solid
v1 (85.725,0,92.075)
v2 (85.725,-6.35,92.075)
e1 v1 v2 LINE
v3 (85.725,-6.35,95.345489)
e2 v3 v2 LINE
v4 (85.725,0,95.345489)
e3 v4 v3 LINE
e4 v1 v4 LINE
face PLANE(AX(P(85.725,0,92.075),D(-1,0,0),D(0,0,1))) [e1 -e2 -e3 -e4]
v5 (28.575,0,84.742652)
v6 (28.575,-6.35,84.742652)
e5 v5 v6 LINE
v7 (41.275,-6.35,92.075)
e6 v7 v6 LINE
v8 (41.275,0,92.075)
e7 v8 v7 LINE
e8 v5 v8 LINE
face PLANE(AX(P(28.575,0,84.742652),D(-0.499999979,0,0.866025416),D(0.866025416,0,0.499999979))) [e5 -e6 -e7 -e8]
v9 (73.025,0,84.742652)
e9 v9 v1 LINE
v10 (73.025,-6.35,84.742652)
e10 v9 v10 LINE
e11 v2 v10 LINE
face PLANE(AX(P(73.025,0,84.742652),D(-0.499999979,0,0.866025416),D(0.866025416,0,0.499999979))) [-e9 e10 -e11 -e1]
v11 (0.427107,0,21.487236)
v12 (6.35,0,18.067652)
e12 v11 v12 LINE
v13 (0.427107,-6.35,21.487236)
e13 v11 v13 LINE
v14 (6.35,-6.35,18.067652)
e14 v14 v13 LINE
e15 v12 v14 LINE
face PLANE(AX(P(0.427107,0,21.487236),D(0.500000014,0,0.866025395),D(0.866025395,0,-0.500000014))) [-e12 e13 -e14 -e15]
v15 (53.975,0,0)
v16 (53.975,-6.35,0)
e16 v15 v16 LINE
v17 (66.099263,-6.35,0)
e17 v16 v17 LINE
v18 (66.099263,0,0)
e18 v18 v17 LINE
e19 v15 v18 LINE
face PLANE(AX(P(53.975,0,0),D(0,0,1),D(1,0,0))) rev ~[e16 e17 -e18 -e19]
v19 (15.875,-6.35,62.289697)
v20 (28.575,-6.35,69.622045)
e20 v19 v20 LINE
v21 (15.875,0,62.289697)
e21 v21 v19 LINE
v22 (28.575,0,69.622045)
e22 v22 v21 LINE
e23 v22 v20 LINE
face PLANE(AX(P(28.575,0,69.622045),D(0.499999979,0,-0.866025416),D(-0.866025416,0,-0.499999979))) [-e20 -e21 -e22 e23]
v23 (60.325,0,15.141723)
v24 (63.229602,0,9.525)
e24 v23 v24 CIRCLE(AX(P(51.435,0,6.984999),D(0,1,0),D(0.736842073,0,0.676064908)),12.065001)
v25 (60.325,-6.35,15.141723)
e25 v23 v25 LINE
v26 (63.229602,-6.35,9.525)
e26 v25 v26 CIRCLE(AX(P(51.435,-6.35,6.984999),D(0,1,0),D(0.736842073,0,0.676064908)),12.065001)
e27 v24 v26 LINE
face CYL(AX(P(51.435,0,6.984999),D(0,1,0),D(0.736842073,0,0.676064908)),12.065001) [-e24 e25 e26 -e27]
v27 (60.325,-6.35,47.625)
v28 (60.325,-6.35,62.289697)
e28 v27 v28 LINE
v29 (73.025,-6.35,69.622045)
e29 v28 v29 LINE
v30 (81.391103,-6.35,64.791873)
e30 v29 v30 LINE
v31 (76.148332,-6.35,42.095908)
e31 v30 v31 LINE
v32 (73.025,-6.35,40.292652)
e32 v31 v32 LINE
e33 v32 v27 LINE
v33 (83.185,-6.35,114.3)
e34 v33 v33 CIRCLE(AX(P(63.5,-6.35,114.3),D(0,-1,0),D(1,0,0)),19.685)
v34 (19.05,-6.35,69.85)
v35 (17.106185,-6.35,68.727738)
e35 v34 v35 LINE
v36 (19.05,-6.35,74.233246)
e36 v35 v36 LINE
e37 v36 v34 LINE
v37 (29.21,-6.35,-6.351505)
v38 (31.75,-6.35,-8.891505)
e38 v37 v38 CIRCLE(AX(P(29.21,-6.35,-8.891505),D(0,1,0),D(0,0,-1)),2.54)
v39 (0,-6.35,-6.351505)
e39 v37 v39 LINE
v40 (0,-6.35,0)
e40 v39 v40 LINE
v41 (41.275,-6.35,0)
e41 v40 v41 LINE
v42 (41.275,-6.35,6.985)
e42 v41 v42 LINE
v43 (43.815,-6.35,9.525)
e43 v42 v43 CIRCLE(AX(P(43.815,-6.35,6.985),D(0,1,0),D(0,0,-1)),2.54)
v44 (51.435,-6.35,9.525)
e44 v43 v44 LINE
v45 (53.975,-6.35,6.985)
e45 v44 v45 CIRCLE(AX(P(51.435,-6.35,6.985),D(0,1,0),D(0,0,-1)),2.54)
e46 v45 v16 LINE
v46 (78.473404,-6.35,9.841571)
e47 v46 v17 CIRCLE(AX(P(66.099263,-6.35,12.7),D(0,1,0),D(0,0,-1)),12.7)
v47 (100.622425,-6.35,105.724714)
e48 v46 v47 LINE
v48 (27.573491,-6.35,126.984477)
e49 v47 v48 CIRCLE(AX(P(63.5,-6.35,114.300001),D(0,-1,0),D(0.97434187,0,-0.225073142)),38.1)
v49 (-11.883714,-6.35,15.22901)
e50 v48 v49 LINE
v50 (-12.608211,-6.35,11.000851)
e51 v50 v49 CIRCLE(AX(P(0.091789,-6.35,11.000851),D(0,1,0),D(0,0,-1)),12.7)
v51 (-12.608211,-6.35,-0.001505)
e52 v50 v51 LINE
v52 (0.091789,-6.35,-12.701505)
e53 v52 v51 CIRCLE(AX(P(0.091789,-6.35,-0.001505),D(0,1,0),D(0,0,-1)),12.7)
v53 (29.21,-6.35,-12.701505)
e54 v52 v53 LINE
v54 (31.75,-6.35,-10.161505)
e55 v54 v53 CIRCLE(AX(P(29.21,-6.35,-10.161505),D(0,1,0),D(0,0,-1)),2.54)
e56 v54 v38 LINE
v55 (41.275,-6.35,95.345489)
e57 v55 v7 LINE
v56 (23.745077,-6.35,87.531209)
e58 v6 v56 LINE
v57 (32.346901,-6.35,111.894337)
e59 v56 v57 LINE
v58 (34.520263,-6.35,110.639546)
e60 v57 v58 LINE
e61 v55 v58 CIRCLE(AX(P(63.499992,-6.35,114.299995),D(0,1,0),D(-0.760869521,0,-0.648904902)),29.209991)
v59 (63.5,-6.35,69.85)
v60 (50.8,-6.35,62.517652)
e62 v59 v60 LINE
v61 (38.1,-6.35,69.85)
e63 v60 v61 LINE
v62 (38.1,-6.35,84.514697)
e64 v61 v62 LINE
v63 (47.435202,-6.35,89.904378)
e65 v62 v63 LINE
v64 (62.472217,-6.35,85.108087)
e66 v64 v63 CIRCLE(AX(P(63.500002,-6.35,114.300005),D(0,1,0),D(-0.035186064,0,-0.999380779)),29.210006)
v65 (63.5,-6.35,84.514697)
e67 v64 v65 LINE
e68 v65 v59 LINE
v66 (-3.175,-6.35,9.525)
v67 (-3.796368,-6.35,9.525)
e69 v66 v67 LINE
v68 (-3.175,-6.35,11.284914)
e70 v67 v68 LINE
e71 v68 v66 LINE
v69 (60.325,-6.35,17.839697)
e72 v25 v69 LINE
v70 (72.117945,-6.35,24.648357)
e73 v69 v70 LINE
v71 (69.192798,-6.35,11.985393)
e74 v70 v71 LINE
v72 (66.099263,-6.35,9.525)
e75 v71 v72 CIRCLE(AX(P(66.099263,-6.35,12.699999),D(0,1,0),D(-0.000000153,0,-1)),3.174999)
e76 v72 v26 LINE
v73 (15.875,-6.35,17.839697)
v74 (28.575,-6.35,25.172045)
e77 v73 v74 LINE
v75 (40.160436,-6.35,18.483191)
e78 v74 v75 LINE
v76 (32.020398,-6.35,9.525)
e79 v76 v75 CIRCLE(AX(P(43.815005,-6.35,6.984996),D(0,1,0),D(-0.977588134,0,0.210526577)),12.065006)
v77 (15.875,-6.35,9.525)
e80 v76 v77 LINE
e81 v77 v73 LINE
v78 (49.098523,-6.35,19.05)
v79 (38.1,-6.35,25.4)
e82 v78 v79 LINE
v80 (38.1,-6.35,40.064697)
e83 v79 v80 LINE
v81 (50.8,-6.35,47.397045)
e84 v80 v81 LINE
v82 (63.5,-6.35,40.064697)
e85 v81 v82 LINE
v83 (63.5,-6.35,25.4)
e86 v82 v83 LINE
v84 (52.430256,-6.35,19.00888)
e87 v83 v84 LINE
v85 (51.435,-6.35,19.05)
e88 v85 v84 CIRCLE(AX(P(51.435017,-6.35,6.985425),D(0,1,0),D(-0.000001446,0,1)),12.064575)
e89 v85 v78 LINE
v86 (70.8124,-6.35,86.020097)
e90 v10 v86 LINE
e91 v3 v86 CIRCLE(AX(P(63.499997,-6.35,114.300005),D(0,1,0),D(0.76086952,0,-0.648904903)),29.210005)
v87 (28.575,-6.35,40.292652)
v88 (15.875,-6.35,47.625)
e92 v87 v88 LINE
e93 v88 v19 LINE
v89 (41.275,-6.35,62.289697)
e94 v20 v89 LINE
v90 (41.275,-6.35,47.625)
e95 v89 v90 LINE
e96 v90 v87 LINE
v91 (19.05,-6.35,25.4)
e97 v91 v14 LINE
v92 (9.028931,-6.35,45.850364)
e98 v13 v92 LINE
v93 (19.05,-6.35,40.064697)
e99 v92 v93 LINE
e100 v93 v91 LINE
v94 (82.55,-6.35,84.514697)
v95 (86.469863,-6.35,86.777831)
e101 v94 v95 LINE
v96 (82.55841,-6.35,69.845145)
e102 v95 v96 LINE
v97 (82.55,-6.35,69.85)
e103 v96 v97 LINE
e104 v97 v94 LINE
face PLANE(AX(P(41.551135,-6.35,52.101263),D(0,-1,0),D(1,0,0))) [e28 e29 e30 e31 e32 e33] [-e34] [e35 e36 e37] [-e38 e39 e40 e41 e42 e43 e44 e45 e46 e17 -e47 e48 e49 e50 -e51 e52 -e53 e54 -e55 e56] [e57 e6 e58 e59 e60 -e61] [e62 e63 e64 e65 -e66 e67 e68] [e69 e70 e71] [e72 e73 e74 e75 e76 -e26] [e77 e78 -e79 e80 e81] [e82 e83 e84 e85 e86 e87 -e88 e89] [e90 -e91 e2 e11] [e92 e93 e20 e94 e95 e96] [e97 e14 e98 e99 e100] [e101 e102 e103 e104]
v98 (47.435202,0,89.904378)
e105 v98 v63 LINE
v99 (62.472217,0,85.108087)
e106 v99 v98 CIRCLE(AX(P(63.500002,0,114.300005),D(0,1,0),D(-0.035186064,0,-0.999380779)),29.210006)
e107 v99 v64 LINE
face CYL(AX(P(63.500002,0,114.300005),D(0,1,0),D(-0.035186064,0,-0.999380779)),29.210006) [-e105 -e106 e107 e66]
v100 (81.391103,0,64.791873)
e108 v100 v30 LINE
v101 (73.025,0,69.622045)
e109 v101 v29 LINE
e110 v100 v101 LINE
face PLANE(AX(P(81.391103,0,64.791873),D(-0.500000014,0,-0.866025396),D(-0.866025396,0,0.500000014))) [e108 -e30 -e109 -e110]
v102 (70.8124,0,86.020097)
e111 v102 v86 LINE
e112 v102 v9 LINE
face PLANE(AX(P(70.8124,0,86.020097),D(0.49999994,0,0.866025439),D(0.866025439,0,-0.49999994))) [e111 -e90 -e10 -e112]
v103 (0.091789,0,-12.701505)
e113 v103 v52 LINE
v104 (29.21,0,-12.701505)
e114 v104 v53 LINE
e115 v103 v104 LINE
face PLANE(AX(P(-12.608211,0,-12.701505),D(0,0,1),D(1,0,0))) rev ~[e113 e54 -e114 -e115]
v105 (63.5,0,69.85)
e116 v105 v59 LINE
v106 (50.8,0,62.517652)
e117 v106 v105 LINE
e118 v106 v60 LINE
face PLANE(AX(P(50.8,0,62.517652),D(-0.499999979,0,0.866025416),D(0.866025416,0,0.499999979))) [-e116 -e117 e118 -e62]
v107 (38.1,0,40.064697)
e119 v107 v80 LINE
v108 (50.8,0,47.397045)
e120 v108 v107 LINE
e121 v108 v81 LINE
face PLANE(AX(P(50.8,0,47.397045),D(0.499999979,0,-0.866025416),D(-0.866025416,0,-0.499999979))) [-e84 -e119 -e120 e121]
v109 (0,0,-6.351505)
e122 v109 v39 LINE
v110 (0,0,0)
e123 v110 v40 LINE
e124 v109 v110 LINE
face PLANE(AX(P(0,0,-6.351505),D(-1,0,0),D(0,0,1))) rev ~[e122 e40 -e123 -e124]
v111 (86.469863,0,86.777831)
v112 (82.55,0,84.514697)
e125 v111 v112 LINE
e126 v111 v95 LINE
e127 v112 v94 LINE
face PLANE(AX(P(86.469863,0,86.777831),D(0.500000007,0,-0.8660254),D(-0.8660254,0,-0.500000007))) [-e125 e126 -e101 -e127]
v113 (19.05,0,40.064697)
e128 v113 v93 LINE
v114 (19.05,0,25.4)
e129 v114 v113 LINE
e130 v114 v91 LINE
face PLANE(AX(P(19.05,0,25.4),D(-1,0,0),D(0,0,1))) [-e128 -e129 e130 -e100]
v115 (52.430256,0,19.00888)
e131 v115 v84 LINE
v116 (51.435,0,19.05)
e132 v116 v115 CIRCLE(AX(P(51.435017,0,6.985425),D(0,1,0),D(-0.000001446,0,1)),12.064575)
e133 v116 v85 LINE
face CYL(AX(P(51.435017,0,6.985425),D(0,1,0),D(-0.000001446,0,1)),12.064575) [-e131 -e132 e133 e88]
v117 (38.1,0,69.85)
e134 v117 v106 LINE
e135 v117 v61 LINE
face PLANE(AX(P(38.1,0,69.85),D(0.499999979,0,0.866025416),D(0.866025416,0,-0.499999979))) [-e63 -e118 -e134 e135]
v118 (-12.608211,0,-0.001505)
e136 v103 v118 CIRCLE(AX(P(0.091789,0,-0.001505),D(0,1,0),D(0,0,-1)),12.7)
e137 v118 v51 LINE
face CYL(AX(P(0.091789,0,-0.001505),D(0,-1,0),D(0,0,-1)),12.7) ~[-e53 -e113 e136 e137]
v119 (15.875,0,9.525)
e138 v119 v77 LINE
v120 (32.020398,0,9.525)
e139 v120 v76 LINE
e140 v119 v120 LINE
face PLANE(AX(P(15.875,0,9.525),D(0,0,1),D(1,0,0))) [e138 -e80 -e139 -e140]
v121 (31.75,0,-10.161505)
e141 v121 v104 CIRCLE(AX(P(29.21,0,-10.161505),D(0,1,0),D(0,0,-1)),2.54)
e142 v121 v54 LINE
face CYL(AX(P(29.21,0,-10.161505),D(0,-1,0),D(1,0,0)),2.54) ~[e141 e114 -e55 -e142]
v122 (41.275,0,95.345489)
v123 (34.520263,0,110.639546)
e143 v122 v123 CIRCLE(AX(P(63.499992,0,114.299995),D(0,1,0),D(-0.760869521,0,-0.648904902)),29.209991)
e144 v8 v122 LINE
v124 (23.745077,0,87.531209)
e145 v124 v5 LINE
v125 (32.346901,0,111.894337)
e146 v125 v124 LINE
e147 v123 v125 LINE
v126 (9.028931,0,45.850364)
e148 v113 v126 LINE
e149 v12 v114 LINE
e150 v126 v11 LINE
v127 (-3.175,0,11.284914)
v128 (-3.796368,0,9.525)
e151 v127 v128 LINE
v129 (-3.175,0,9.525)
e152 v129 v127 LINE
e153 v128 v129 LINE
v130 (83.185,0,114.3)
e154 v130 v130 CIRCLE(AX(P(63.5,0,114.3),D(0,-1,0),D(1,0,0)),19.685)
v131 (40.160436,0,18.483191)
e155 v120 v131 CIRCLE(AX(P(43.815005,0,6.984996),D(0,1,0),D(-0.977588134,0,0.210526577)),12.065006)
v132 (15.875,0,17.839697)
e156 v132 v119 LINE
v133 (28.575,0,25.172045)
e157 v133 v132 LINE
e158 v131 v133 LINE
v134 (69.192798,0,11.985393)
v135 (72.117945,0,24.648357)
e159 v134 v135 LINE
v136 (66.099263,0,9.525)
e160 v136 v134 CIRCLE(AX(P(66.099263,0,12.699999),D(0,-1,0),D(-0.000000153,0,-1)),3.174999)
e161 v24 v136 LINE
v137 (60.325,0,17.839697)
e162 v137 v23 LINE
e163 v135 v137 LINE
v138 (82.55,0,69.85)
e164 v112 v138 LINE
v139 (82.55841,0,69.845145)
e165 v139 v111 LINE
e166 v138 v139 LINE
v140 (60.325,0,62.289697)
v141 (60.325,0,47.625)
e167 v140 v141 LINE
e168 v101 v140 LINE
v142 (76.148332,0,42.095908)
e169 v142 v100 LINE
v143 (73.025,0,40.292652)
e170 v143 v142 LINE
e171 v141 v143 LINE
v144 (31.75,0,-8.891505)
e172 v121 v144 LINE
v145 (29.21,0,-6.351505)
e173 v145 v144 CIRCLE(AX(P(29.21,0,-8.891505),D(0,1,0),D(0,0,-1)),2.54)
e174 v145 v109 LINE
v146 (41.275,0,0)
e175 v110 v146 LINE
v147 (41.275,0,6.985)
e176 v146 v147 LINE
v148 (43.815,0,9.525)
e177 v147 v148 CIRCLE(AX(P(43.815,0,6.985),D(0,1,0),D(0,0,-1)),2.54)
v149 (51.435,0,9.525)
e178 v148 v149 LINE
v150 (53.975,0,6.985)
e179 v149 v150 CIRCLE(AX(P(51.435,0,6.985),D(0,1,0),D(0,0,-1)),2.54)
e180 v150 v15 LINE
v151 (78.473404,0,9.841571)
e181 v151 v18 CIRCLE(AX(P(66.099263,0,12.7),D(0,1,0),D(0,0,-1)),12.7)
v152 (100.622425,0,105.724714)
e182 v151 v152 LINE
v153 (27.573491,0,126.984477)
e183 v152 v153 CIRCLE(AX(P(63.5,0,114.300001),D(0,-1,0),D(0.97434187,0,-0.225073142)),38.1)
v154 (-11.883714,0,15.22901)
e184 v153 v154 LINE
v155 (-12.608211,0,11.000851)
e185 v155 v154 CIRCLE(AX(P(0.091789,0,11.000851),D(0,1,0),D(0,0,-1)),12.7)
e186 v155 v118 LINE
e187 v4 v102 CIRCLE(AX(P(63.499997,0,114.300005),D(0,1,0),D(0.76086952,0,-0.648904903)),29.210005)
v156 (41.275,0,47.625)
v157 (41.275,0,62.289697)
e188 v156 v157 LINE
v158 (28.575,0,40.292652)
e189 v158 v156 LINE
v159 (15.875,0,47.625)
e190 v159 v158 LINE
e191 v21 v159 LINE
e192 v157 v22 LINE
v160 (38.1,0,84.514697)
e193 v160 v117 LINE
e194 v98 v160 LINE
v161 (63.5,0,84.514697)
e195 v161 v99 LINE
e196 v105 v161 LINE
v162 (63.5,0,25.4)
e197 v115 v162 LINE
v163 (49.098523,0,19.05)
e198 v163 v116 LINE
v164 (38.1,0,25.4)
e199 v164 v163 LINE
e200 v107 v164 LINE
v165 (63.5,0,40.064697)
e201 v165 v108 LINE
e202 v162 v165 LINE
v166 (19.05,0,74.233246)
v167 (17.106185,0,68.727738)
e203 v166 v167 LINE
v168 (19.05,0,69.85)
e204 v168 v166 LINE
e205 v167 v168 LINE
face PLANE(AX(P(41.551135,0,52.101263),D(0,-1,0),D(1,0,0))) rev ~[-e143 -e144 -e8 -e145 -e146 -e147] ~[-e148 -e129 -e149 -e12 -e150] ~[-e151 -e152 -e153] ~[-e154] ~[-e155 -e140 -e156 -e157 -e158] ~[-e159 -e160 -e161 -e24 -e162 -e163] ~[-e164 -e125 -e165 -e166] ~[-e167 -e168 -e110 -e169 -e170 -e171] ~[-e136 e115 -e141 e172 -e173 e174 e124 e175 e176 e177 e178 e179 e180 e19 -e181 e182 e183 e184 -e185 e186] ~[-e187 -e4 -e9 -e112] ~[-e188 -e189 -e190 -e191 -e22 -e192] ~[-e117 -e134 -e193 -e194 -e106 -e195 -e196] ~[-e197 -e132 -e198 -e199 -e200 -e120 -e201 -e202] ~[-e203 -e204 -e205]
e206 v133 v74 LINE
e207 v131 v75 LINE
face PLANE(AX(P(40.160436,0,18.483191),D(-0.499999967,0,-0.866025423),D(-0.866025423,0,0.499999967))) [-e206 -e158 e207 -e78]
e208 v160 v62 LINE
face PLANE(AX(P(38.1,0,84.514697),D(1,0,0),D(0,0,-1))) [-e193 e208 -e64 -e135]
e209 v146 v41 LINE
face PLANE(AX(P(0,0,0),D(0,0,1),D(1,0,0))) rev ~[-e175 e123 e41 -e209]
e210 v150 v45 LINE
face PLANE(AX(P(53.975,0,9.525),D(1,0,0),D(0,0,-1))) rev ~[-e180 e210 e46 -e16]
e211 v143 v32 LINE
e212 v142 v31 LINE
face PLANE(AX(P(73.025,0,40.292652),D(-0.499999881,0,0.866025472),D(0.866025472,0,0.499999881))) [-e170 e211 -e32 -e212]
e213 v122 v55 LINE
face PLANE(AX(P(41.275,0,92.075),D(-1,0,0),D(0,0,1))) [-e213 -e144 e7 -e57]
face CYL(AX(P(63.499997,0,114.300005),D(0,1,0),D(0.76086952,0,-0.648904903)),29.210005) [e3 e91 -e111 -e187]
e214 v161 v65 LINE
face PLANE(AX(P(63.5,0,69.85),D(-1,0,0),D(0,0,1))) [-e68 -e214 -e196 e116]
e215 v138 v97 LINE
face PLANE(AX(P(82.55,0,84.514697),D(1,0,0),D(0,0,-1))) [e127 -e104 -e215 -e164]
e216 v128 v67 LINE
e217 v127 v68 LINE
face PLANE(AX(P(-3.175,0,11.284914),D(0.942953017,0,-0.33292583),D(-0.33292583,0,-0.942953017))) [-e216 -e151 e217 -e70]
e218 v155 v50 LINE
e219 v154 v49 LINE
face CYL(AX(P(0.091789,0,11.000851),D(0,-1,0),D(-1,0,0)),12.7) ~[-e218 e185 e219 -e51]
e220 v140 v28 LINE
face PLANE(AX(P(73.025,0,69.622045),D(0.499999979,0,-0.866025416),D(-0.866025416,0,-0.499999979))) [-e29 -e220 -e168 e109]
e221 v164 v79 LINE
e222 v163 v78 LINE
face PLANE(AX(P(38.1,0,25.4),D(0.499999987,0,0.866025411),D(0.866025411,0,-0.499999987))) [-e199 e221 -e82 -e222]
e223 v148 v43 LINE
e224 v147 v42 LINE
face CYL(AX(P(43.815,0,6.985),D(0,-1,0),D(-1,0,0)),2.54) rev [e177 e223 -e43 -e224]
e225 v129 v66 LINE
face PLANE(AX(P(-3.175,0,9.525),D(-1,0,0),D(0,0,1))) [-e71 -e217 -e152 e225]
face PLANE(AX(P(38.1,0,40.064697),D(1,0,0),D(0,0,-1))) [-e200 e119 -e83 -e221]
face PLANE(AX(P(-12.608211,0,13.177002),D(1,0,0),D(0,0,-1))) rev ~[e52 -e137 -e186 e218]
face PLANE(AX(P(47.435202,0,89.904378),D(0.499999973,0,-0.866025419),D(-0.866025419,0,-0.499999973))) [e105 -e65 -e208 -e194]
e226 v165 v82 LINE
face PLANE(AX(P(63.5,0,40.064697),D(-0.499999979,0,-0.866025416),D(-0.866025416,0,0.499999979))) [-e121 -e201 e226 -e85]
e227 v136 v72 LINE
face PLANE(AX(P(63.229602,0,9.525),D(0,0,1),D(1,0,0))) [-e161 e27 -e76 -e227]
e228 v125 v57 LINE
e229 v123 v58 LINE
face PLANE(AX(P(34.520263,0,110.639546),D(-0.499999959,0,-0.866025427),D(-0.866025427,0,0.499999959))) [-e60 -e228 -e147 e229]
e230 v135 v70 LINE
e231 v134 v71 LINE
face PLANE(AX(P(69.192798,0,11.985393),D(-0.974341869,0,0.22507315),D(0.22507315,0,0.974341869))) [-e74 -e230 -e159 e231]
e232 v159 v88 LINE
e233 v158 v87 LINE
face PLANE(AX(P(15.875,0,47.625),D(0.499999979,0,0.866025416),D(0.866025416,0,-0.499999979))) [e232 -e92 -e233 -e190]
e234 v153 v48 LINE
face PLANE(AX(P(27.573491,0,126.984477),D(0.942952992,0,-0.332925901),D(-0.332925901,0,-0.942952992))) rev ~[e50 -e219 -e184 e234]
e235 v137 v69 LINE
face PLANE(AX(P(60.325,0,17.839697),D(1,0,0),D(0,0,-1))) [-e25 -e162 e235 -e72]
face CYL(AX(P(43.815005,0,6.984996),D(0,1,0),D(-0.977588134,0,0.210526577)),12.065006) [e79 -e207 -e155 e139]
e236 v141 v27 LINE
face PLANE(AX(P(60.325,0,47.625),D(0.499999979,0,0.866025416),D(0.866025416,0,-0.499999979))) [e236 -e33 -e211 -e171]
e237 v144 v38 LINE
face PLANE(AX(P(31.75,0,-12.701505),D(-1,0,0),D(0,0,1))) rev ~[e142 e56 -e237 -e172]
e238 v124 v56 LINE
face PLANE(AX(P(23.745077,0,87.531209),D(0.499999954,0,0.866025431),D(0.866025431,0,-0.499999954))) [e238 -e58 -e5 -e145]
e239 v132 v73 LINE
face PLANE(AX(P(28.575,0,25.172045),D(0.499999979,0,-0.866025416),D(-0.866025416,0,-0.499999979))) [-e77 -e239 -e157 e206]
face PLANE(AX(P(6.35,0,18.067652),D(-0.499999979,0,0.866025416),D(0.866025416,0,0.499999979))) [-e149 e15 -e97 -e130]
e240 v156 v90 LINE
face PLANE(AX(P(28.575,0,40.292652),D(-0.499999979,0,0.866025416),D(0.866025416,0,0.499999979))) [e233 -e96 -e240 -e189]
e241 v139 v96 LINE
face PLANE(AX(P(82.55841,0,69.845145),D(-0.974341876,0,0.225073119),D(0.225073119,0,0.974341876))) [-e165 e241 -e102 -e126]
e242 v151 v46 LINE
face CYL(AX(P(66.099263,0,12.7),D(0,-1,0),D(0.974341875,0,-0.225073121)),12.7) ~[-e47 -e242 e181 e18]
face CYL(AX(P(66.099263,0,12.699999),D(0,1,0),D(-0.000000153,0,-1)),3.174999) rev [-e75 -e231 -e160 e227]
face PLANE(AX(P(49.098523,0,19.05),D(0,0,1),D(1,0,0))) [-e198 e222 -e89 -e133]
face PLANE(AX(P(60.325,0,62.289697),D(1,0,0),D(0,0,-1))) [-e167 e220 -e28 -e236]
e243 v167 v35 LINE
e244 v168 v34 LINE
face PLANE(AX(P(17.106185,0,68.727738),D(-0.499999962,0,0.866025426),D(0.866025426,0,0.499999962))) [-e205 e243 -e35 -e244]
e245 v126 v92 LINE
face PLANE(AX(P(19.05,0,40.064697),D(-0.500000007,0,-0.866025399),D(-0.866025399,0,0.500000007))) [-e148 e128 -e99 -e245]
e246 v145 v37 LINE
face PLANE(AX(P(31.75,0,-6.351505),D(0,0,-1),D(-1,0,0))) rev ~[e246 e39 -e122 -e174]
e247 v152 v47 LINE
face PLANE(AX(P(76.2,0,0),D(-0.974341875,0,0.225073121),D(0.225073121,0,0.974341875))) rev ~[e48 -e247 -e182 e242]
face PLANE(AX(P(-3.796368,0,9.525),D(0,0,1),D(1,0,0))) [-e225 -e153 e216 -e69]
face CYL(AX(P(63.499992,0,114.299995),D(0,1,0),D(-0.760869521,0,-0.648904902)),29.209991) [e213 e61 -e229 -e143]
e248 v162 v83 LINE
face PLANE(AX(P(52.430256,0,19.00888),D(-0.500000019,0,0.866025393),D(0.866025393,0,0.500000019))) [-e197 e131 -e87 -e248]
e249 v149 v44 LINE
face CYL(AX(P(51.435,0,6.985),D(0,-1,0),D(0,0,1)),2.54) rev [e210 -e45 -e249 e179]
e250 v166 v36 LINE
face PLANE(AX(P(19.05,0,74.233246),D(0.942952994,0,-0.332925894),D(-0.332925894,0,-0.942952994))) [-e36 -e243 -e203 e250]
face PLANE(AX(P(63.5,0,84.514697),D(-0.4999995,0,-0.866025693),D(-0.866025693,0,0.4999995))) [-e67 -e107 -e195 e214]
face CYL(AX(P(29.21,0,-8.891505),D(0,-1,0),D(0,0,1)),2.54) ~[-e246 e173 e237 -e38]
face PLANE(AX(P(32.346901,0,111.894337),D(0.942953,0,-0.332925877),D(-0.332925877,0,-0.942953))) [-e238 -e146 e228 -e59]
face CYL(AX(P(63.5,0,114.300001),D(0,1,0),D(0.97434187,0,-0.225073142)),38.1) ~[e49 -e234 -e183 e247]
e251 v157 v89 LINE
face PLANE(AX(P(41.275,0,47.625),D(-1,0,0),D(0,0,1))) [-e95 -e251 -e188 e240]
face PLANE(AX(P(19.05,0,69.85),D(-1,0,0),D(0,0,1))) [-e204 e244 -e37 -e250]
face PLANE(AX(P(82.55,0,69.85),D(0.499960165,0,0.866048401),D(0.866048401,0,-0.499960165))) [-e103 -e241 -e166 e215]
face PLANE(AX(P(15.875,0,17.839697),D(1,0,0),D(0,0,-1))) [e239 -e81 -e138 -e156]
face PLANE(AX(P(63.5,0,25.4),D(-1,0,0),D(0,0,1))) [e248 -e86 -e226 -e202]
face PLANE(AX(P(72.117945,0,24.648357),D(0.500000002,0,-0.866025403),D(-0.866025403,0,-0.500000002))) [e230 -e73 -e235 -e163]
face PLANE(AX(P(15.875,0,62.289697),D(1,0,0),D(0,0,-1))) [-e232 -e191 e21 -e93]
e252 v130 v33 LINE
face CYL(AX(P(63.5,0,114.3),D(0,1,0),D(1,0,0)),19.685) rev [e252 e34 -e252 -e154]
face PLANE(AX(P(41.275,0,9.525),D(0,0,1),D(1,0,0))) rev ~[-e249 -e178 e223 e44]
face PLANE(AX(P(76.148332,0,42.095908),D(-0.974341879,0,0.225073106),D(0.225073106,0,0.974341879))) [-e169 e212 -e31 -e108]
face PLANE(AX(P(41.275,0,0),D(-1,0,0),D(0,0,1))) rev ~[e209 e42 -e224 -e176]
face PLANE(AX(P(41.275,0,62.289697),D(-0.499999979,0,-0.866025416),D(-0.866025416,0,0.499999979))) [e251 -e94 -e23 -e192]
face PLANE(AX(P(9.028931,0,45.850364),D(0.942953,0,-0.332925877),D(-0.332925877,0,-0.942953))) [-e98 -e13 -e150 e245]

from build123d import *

# Parameters (mm, degrees)
F0_R     = 19.685
F1_DEPTH = 6.35
F2_R     = 2.54
F3_R     = 12.7
F5_DEPTH = 6.351


with BuildPart() as f1:
    # F0 (on Front) → F1 (new body)
    with BuildSketch(Plane.XZ):
        with BuildLine():
            Line((0, -6.351505), (0, 0))
            Line((0, 0), (41.275, 0))
            Line((41.275, 0), (41.275, 9.525))
            Line((41.275, 9.525), (53.975, 9.525))
            Line((53.975, 9.525), (53.975, 0))
            Line((53.975, 0), (76.2, 0))
            Line((76.2, 0), (100.622425, 105.724714))
            ThreePointArc((100.622425, 105.724714), (74.146687, 150.88221), (27.573491, 126.984477))
            Line((27.573491, 126.984477), (-12.608211, 13.177002))
            Line((-12.608211, 13.177002), (-12.608211, -12.701505))
            Line((-12.608211, -12.701505), (31.75, -12.701505))
            Line((31.75, -12.701505), (31.75, -6.351505))
            Line((31.75, -6.351505), (0, -6.351505))
        make_face()
        with Locations((63.5, 114.3)):
            Circle(F0_R, mode=Mode.SUBTRACT)
    extrude(amount=F1_DEPTH)

    # F2
    f2_edges = [f1.edges().sort_by_distance(p)[0] for p in [
        (31.75, -3.175, -6.351505),
        (31.75, -3.175, -12.701505),
        (41.275, -3.175, 9.525),
        (53.975, -3.175, 9.525),
    ]]
    fillet(f2_edges, radius=F2_R)

    # F3
    f3_edges = [f1.edges().sort_by_distance(p)[0] for p in [
        (-12.608211, -3.175, -12.701505),
        (-12.608211, -3.175, 13.177002),
        (76.2, -3.175, 0),
    ]]
    fillet(f3_edges, radius=F3_R)

    # F4 (on Front) → F5 (cut, through all)
    with BuildSketch(Plane.XZ):
        with BuildLine():
            ThreePointArc((41.275, 95.345489), (36.780001, 102.498908), (34.520263, 110.639546))
            Line((34.520263, 110.639546), (32.346901, 111.894337))
            Line((32.346901, 111.894337), (23.745077, 87.531209))
            Line((23.745077, 87.531209), (28.575, 84.742652))
            Line((28.575, 84.742652), (41.275, 92.075))
            Line((41.275, 92.075), (41.275, 95.345489))
        make_face()
        Polygon((-3.175, 11.284914), (-3.796368, 9.525), (-3.175, 9.525), align=None)
        with BuildLine():
            Line((63.229602, 9.525), (66.099263, 9.525))
            ThreePointArc((66.099263, 9.525), (68.075591, 10.215095), (69.192798, 11.985393))
            Line((69.192798, 11.985393), (72.117945, 24.648357))
            Line((72.117945, 24.648357), (60.325, 17.839697))
            Line((60.325, 17.839697), (60.325, 15.141723))
            ThreePointArc((60.325, 15.141723), (62.151813, 12.527035), (63.229602, 9.525))
        make_face()
        with BuildLine():
            Line((49.098523, 19.05), (51.435, 19.05))
            ThreePointArc((51.435, 19.05), (51.933052, 19.039716), (52.430256, 19.00888))
            Line((52.430256, 19.00888), (63.5, 25.4))
            Line((63.5, 25.4), (63.5, 40.064697))
            Line((63.5, 40.064697), (50.8, 47.397045))
            Line((50.8, 47.397045), (38.1, 40.064697))
            Line((38.1, 40.064697), (38.1, 25.4))
            Line((38.1, 25.4), (49.098523, 19.05))
        make_face()
        with BuildLine():
            Line((15.875, 9.525), (32.020398, 9.525))
            ThreePointArc((32.020398, 9.525), (34.885752, 15.098738), (40.160436, 18.483191))
            Line((40.160436, 18.483191), (28.575, 25.172045))
            Line((28.575, 25.172045), (15.875, 17.839697))
            Line((15.875, 17.839697), (15.875, 9.525))
        make_face()
        Polygon((19.05, 40.064697), (9.028931, 45.850364), (0.427107, 21.487236), (6.35, 18.067652), (19.05, 25.4), align=None)
        Polygon((19.05, 69.85), (19.05, 74.233246), (17.106185, 68.727738), align=None)
        with BuildLine():
            Line((63.5, 84.514697), (62.472217, 85.108087))
            ThreePointArc((62.472217, 85.108087), (54.623617, 86.471347), (47.435202, 89.904378))
            Line((47.435202, 89.904378), (38.1, 84.514697))
            Line((38.1, 84.514697), (38.1, 69.85))
            Line((38.1, 69.85), (50.8, 62.517652))
            Line((50.8, 62.517652), (63.5, 69.85))
            Line((63.5, 69.85), (63.5, 84.514697))
        make_face()
        Polygon((86.469863, 86.777831), (82.55, 84.514697), (82.55, 69.85), (82.55841, 69.845145), align=None)
        Polygon((15.875, 62.289697), (15.875, 47.625), (28.575, 40.292652), (41.275, 47.625), (41.275, 62.289697), (28.575, 69.622045), align=None)
        Polygon((60.325, 62.289697), (60.325, 47.625), (73.025, 40.292652), (76.148332, 42.095908), (81.391103, 64.791873), (73.025, 69.622045), align=None)
        with BuildLine():
            Line((70.8124, 86.020097), (73.025, 84.742652))
            Line((73.025, 84.742652), (85.725, 92.075))
            Line((85.725, 92.075), (85.725, 95.345489))
            ThreePointArc((85.725, 95.345489), (78.98726, 89.533715), (70.8124, 86.020097))
        make_face()
    extrude(amount=F5_DEPTH, mode=Mode.SUBTRACT)


solid = f1.part
